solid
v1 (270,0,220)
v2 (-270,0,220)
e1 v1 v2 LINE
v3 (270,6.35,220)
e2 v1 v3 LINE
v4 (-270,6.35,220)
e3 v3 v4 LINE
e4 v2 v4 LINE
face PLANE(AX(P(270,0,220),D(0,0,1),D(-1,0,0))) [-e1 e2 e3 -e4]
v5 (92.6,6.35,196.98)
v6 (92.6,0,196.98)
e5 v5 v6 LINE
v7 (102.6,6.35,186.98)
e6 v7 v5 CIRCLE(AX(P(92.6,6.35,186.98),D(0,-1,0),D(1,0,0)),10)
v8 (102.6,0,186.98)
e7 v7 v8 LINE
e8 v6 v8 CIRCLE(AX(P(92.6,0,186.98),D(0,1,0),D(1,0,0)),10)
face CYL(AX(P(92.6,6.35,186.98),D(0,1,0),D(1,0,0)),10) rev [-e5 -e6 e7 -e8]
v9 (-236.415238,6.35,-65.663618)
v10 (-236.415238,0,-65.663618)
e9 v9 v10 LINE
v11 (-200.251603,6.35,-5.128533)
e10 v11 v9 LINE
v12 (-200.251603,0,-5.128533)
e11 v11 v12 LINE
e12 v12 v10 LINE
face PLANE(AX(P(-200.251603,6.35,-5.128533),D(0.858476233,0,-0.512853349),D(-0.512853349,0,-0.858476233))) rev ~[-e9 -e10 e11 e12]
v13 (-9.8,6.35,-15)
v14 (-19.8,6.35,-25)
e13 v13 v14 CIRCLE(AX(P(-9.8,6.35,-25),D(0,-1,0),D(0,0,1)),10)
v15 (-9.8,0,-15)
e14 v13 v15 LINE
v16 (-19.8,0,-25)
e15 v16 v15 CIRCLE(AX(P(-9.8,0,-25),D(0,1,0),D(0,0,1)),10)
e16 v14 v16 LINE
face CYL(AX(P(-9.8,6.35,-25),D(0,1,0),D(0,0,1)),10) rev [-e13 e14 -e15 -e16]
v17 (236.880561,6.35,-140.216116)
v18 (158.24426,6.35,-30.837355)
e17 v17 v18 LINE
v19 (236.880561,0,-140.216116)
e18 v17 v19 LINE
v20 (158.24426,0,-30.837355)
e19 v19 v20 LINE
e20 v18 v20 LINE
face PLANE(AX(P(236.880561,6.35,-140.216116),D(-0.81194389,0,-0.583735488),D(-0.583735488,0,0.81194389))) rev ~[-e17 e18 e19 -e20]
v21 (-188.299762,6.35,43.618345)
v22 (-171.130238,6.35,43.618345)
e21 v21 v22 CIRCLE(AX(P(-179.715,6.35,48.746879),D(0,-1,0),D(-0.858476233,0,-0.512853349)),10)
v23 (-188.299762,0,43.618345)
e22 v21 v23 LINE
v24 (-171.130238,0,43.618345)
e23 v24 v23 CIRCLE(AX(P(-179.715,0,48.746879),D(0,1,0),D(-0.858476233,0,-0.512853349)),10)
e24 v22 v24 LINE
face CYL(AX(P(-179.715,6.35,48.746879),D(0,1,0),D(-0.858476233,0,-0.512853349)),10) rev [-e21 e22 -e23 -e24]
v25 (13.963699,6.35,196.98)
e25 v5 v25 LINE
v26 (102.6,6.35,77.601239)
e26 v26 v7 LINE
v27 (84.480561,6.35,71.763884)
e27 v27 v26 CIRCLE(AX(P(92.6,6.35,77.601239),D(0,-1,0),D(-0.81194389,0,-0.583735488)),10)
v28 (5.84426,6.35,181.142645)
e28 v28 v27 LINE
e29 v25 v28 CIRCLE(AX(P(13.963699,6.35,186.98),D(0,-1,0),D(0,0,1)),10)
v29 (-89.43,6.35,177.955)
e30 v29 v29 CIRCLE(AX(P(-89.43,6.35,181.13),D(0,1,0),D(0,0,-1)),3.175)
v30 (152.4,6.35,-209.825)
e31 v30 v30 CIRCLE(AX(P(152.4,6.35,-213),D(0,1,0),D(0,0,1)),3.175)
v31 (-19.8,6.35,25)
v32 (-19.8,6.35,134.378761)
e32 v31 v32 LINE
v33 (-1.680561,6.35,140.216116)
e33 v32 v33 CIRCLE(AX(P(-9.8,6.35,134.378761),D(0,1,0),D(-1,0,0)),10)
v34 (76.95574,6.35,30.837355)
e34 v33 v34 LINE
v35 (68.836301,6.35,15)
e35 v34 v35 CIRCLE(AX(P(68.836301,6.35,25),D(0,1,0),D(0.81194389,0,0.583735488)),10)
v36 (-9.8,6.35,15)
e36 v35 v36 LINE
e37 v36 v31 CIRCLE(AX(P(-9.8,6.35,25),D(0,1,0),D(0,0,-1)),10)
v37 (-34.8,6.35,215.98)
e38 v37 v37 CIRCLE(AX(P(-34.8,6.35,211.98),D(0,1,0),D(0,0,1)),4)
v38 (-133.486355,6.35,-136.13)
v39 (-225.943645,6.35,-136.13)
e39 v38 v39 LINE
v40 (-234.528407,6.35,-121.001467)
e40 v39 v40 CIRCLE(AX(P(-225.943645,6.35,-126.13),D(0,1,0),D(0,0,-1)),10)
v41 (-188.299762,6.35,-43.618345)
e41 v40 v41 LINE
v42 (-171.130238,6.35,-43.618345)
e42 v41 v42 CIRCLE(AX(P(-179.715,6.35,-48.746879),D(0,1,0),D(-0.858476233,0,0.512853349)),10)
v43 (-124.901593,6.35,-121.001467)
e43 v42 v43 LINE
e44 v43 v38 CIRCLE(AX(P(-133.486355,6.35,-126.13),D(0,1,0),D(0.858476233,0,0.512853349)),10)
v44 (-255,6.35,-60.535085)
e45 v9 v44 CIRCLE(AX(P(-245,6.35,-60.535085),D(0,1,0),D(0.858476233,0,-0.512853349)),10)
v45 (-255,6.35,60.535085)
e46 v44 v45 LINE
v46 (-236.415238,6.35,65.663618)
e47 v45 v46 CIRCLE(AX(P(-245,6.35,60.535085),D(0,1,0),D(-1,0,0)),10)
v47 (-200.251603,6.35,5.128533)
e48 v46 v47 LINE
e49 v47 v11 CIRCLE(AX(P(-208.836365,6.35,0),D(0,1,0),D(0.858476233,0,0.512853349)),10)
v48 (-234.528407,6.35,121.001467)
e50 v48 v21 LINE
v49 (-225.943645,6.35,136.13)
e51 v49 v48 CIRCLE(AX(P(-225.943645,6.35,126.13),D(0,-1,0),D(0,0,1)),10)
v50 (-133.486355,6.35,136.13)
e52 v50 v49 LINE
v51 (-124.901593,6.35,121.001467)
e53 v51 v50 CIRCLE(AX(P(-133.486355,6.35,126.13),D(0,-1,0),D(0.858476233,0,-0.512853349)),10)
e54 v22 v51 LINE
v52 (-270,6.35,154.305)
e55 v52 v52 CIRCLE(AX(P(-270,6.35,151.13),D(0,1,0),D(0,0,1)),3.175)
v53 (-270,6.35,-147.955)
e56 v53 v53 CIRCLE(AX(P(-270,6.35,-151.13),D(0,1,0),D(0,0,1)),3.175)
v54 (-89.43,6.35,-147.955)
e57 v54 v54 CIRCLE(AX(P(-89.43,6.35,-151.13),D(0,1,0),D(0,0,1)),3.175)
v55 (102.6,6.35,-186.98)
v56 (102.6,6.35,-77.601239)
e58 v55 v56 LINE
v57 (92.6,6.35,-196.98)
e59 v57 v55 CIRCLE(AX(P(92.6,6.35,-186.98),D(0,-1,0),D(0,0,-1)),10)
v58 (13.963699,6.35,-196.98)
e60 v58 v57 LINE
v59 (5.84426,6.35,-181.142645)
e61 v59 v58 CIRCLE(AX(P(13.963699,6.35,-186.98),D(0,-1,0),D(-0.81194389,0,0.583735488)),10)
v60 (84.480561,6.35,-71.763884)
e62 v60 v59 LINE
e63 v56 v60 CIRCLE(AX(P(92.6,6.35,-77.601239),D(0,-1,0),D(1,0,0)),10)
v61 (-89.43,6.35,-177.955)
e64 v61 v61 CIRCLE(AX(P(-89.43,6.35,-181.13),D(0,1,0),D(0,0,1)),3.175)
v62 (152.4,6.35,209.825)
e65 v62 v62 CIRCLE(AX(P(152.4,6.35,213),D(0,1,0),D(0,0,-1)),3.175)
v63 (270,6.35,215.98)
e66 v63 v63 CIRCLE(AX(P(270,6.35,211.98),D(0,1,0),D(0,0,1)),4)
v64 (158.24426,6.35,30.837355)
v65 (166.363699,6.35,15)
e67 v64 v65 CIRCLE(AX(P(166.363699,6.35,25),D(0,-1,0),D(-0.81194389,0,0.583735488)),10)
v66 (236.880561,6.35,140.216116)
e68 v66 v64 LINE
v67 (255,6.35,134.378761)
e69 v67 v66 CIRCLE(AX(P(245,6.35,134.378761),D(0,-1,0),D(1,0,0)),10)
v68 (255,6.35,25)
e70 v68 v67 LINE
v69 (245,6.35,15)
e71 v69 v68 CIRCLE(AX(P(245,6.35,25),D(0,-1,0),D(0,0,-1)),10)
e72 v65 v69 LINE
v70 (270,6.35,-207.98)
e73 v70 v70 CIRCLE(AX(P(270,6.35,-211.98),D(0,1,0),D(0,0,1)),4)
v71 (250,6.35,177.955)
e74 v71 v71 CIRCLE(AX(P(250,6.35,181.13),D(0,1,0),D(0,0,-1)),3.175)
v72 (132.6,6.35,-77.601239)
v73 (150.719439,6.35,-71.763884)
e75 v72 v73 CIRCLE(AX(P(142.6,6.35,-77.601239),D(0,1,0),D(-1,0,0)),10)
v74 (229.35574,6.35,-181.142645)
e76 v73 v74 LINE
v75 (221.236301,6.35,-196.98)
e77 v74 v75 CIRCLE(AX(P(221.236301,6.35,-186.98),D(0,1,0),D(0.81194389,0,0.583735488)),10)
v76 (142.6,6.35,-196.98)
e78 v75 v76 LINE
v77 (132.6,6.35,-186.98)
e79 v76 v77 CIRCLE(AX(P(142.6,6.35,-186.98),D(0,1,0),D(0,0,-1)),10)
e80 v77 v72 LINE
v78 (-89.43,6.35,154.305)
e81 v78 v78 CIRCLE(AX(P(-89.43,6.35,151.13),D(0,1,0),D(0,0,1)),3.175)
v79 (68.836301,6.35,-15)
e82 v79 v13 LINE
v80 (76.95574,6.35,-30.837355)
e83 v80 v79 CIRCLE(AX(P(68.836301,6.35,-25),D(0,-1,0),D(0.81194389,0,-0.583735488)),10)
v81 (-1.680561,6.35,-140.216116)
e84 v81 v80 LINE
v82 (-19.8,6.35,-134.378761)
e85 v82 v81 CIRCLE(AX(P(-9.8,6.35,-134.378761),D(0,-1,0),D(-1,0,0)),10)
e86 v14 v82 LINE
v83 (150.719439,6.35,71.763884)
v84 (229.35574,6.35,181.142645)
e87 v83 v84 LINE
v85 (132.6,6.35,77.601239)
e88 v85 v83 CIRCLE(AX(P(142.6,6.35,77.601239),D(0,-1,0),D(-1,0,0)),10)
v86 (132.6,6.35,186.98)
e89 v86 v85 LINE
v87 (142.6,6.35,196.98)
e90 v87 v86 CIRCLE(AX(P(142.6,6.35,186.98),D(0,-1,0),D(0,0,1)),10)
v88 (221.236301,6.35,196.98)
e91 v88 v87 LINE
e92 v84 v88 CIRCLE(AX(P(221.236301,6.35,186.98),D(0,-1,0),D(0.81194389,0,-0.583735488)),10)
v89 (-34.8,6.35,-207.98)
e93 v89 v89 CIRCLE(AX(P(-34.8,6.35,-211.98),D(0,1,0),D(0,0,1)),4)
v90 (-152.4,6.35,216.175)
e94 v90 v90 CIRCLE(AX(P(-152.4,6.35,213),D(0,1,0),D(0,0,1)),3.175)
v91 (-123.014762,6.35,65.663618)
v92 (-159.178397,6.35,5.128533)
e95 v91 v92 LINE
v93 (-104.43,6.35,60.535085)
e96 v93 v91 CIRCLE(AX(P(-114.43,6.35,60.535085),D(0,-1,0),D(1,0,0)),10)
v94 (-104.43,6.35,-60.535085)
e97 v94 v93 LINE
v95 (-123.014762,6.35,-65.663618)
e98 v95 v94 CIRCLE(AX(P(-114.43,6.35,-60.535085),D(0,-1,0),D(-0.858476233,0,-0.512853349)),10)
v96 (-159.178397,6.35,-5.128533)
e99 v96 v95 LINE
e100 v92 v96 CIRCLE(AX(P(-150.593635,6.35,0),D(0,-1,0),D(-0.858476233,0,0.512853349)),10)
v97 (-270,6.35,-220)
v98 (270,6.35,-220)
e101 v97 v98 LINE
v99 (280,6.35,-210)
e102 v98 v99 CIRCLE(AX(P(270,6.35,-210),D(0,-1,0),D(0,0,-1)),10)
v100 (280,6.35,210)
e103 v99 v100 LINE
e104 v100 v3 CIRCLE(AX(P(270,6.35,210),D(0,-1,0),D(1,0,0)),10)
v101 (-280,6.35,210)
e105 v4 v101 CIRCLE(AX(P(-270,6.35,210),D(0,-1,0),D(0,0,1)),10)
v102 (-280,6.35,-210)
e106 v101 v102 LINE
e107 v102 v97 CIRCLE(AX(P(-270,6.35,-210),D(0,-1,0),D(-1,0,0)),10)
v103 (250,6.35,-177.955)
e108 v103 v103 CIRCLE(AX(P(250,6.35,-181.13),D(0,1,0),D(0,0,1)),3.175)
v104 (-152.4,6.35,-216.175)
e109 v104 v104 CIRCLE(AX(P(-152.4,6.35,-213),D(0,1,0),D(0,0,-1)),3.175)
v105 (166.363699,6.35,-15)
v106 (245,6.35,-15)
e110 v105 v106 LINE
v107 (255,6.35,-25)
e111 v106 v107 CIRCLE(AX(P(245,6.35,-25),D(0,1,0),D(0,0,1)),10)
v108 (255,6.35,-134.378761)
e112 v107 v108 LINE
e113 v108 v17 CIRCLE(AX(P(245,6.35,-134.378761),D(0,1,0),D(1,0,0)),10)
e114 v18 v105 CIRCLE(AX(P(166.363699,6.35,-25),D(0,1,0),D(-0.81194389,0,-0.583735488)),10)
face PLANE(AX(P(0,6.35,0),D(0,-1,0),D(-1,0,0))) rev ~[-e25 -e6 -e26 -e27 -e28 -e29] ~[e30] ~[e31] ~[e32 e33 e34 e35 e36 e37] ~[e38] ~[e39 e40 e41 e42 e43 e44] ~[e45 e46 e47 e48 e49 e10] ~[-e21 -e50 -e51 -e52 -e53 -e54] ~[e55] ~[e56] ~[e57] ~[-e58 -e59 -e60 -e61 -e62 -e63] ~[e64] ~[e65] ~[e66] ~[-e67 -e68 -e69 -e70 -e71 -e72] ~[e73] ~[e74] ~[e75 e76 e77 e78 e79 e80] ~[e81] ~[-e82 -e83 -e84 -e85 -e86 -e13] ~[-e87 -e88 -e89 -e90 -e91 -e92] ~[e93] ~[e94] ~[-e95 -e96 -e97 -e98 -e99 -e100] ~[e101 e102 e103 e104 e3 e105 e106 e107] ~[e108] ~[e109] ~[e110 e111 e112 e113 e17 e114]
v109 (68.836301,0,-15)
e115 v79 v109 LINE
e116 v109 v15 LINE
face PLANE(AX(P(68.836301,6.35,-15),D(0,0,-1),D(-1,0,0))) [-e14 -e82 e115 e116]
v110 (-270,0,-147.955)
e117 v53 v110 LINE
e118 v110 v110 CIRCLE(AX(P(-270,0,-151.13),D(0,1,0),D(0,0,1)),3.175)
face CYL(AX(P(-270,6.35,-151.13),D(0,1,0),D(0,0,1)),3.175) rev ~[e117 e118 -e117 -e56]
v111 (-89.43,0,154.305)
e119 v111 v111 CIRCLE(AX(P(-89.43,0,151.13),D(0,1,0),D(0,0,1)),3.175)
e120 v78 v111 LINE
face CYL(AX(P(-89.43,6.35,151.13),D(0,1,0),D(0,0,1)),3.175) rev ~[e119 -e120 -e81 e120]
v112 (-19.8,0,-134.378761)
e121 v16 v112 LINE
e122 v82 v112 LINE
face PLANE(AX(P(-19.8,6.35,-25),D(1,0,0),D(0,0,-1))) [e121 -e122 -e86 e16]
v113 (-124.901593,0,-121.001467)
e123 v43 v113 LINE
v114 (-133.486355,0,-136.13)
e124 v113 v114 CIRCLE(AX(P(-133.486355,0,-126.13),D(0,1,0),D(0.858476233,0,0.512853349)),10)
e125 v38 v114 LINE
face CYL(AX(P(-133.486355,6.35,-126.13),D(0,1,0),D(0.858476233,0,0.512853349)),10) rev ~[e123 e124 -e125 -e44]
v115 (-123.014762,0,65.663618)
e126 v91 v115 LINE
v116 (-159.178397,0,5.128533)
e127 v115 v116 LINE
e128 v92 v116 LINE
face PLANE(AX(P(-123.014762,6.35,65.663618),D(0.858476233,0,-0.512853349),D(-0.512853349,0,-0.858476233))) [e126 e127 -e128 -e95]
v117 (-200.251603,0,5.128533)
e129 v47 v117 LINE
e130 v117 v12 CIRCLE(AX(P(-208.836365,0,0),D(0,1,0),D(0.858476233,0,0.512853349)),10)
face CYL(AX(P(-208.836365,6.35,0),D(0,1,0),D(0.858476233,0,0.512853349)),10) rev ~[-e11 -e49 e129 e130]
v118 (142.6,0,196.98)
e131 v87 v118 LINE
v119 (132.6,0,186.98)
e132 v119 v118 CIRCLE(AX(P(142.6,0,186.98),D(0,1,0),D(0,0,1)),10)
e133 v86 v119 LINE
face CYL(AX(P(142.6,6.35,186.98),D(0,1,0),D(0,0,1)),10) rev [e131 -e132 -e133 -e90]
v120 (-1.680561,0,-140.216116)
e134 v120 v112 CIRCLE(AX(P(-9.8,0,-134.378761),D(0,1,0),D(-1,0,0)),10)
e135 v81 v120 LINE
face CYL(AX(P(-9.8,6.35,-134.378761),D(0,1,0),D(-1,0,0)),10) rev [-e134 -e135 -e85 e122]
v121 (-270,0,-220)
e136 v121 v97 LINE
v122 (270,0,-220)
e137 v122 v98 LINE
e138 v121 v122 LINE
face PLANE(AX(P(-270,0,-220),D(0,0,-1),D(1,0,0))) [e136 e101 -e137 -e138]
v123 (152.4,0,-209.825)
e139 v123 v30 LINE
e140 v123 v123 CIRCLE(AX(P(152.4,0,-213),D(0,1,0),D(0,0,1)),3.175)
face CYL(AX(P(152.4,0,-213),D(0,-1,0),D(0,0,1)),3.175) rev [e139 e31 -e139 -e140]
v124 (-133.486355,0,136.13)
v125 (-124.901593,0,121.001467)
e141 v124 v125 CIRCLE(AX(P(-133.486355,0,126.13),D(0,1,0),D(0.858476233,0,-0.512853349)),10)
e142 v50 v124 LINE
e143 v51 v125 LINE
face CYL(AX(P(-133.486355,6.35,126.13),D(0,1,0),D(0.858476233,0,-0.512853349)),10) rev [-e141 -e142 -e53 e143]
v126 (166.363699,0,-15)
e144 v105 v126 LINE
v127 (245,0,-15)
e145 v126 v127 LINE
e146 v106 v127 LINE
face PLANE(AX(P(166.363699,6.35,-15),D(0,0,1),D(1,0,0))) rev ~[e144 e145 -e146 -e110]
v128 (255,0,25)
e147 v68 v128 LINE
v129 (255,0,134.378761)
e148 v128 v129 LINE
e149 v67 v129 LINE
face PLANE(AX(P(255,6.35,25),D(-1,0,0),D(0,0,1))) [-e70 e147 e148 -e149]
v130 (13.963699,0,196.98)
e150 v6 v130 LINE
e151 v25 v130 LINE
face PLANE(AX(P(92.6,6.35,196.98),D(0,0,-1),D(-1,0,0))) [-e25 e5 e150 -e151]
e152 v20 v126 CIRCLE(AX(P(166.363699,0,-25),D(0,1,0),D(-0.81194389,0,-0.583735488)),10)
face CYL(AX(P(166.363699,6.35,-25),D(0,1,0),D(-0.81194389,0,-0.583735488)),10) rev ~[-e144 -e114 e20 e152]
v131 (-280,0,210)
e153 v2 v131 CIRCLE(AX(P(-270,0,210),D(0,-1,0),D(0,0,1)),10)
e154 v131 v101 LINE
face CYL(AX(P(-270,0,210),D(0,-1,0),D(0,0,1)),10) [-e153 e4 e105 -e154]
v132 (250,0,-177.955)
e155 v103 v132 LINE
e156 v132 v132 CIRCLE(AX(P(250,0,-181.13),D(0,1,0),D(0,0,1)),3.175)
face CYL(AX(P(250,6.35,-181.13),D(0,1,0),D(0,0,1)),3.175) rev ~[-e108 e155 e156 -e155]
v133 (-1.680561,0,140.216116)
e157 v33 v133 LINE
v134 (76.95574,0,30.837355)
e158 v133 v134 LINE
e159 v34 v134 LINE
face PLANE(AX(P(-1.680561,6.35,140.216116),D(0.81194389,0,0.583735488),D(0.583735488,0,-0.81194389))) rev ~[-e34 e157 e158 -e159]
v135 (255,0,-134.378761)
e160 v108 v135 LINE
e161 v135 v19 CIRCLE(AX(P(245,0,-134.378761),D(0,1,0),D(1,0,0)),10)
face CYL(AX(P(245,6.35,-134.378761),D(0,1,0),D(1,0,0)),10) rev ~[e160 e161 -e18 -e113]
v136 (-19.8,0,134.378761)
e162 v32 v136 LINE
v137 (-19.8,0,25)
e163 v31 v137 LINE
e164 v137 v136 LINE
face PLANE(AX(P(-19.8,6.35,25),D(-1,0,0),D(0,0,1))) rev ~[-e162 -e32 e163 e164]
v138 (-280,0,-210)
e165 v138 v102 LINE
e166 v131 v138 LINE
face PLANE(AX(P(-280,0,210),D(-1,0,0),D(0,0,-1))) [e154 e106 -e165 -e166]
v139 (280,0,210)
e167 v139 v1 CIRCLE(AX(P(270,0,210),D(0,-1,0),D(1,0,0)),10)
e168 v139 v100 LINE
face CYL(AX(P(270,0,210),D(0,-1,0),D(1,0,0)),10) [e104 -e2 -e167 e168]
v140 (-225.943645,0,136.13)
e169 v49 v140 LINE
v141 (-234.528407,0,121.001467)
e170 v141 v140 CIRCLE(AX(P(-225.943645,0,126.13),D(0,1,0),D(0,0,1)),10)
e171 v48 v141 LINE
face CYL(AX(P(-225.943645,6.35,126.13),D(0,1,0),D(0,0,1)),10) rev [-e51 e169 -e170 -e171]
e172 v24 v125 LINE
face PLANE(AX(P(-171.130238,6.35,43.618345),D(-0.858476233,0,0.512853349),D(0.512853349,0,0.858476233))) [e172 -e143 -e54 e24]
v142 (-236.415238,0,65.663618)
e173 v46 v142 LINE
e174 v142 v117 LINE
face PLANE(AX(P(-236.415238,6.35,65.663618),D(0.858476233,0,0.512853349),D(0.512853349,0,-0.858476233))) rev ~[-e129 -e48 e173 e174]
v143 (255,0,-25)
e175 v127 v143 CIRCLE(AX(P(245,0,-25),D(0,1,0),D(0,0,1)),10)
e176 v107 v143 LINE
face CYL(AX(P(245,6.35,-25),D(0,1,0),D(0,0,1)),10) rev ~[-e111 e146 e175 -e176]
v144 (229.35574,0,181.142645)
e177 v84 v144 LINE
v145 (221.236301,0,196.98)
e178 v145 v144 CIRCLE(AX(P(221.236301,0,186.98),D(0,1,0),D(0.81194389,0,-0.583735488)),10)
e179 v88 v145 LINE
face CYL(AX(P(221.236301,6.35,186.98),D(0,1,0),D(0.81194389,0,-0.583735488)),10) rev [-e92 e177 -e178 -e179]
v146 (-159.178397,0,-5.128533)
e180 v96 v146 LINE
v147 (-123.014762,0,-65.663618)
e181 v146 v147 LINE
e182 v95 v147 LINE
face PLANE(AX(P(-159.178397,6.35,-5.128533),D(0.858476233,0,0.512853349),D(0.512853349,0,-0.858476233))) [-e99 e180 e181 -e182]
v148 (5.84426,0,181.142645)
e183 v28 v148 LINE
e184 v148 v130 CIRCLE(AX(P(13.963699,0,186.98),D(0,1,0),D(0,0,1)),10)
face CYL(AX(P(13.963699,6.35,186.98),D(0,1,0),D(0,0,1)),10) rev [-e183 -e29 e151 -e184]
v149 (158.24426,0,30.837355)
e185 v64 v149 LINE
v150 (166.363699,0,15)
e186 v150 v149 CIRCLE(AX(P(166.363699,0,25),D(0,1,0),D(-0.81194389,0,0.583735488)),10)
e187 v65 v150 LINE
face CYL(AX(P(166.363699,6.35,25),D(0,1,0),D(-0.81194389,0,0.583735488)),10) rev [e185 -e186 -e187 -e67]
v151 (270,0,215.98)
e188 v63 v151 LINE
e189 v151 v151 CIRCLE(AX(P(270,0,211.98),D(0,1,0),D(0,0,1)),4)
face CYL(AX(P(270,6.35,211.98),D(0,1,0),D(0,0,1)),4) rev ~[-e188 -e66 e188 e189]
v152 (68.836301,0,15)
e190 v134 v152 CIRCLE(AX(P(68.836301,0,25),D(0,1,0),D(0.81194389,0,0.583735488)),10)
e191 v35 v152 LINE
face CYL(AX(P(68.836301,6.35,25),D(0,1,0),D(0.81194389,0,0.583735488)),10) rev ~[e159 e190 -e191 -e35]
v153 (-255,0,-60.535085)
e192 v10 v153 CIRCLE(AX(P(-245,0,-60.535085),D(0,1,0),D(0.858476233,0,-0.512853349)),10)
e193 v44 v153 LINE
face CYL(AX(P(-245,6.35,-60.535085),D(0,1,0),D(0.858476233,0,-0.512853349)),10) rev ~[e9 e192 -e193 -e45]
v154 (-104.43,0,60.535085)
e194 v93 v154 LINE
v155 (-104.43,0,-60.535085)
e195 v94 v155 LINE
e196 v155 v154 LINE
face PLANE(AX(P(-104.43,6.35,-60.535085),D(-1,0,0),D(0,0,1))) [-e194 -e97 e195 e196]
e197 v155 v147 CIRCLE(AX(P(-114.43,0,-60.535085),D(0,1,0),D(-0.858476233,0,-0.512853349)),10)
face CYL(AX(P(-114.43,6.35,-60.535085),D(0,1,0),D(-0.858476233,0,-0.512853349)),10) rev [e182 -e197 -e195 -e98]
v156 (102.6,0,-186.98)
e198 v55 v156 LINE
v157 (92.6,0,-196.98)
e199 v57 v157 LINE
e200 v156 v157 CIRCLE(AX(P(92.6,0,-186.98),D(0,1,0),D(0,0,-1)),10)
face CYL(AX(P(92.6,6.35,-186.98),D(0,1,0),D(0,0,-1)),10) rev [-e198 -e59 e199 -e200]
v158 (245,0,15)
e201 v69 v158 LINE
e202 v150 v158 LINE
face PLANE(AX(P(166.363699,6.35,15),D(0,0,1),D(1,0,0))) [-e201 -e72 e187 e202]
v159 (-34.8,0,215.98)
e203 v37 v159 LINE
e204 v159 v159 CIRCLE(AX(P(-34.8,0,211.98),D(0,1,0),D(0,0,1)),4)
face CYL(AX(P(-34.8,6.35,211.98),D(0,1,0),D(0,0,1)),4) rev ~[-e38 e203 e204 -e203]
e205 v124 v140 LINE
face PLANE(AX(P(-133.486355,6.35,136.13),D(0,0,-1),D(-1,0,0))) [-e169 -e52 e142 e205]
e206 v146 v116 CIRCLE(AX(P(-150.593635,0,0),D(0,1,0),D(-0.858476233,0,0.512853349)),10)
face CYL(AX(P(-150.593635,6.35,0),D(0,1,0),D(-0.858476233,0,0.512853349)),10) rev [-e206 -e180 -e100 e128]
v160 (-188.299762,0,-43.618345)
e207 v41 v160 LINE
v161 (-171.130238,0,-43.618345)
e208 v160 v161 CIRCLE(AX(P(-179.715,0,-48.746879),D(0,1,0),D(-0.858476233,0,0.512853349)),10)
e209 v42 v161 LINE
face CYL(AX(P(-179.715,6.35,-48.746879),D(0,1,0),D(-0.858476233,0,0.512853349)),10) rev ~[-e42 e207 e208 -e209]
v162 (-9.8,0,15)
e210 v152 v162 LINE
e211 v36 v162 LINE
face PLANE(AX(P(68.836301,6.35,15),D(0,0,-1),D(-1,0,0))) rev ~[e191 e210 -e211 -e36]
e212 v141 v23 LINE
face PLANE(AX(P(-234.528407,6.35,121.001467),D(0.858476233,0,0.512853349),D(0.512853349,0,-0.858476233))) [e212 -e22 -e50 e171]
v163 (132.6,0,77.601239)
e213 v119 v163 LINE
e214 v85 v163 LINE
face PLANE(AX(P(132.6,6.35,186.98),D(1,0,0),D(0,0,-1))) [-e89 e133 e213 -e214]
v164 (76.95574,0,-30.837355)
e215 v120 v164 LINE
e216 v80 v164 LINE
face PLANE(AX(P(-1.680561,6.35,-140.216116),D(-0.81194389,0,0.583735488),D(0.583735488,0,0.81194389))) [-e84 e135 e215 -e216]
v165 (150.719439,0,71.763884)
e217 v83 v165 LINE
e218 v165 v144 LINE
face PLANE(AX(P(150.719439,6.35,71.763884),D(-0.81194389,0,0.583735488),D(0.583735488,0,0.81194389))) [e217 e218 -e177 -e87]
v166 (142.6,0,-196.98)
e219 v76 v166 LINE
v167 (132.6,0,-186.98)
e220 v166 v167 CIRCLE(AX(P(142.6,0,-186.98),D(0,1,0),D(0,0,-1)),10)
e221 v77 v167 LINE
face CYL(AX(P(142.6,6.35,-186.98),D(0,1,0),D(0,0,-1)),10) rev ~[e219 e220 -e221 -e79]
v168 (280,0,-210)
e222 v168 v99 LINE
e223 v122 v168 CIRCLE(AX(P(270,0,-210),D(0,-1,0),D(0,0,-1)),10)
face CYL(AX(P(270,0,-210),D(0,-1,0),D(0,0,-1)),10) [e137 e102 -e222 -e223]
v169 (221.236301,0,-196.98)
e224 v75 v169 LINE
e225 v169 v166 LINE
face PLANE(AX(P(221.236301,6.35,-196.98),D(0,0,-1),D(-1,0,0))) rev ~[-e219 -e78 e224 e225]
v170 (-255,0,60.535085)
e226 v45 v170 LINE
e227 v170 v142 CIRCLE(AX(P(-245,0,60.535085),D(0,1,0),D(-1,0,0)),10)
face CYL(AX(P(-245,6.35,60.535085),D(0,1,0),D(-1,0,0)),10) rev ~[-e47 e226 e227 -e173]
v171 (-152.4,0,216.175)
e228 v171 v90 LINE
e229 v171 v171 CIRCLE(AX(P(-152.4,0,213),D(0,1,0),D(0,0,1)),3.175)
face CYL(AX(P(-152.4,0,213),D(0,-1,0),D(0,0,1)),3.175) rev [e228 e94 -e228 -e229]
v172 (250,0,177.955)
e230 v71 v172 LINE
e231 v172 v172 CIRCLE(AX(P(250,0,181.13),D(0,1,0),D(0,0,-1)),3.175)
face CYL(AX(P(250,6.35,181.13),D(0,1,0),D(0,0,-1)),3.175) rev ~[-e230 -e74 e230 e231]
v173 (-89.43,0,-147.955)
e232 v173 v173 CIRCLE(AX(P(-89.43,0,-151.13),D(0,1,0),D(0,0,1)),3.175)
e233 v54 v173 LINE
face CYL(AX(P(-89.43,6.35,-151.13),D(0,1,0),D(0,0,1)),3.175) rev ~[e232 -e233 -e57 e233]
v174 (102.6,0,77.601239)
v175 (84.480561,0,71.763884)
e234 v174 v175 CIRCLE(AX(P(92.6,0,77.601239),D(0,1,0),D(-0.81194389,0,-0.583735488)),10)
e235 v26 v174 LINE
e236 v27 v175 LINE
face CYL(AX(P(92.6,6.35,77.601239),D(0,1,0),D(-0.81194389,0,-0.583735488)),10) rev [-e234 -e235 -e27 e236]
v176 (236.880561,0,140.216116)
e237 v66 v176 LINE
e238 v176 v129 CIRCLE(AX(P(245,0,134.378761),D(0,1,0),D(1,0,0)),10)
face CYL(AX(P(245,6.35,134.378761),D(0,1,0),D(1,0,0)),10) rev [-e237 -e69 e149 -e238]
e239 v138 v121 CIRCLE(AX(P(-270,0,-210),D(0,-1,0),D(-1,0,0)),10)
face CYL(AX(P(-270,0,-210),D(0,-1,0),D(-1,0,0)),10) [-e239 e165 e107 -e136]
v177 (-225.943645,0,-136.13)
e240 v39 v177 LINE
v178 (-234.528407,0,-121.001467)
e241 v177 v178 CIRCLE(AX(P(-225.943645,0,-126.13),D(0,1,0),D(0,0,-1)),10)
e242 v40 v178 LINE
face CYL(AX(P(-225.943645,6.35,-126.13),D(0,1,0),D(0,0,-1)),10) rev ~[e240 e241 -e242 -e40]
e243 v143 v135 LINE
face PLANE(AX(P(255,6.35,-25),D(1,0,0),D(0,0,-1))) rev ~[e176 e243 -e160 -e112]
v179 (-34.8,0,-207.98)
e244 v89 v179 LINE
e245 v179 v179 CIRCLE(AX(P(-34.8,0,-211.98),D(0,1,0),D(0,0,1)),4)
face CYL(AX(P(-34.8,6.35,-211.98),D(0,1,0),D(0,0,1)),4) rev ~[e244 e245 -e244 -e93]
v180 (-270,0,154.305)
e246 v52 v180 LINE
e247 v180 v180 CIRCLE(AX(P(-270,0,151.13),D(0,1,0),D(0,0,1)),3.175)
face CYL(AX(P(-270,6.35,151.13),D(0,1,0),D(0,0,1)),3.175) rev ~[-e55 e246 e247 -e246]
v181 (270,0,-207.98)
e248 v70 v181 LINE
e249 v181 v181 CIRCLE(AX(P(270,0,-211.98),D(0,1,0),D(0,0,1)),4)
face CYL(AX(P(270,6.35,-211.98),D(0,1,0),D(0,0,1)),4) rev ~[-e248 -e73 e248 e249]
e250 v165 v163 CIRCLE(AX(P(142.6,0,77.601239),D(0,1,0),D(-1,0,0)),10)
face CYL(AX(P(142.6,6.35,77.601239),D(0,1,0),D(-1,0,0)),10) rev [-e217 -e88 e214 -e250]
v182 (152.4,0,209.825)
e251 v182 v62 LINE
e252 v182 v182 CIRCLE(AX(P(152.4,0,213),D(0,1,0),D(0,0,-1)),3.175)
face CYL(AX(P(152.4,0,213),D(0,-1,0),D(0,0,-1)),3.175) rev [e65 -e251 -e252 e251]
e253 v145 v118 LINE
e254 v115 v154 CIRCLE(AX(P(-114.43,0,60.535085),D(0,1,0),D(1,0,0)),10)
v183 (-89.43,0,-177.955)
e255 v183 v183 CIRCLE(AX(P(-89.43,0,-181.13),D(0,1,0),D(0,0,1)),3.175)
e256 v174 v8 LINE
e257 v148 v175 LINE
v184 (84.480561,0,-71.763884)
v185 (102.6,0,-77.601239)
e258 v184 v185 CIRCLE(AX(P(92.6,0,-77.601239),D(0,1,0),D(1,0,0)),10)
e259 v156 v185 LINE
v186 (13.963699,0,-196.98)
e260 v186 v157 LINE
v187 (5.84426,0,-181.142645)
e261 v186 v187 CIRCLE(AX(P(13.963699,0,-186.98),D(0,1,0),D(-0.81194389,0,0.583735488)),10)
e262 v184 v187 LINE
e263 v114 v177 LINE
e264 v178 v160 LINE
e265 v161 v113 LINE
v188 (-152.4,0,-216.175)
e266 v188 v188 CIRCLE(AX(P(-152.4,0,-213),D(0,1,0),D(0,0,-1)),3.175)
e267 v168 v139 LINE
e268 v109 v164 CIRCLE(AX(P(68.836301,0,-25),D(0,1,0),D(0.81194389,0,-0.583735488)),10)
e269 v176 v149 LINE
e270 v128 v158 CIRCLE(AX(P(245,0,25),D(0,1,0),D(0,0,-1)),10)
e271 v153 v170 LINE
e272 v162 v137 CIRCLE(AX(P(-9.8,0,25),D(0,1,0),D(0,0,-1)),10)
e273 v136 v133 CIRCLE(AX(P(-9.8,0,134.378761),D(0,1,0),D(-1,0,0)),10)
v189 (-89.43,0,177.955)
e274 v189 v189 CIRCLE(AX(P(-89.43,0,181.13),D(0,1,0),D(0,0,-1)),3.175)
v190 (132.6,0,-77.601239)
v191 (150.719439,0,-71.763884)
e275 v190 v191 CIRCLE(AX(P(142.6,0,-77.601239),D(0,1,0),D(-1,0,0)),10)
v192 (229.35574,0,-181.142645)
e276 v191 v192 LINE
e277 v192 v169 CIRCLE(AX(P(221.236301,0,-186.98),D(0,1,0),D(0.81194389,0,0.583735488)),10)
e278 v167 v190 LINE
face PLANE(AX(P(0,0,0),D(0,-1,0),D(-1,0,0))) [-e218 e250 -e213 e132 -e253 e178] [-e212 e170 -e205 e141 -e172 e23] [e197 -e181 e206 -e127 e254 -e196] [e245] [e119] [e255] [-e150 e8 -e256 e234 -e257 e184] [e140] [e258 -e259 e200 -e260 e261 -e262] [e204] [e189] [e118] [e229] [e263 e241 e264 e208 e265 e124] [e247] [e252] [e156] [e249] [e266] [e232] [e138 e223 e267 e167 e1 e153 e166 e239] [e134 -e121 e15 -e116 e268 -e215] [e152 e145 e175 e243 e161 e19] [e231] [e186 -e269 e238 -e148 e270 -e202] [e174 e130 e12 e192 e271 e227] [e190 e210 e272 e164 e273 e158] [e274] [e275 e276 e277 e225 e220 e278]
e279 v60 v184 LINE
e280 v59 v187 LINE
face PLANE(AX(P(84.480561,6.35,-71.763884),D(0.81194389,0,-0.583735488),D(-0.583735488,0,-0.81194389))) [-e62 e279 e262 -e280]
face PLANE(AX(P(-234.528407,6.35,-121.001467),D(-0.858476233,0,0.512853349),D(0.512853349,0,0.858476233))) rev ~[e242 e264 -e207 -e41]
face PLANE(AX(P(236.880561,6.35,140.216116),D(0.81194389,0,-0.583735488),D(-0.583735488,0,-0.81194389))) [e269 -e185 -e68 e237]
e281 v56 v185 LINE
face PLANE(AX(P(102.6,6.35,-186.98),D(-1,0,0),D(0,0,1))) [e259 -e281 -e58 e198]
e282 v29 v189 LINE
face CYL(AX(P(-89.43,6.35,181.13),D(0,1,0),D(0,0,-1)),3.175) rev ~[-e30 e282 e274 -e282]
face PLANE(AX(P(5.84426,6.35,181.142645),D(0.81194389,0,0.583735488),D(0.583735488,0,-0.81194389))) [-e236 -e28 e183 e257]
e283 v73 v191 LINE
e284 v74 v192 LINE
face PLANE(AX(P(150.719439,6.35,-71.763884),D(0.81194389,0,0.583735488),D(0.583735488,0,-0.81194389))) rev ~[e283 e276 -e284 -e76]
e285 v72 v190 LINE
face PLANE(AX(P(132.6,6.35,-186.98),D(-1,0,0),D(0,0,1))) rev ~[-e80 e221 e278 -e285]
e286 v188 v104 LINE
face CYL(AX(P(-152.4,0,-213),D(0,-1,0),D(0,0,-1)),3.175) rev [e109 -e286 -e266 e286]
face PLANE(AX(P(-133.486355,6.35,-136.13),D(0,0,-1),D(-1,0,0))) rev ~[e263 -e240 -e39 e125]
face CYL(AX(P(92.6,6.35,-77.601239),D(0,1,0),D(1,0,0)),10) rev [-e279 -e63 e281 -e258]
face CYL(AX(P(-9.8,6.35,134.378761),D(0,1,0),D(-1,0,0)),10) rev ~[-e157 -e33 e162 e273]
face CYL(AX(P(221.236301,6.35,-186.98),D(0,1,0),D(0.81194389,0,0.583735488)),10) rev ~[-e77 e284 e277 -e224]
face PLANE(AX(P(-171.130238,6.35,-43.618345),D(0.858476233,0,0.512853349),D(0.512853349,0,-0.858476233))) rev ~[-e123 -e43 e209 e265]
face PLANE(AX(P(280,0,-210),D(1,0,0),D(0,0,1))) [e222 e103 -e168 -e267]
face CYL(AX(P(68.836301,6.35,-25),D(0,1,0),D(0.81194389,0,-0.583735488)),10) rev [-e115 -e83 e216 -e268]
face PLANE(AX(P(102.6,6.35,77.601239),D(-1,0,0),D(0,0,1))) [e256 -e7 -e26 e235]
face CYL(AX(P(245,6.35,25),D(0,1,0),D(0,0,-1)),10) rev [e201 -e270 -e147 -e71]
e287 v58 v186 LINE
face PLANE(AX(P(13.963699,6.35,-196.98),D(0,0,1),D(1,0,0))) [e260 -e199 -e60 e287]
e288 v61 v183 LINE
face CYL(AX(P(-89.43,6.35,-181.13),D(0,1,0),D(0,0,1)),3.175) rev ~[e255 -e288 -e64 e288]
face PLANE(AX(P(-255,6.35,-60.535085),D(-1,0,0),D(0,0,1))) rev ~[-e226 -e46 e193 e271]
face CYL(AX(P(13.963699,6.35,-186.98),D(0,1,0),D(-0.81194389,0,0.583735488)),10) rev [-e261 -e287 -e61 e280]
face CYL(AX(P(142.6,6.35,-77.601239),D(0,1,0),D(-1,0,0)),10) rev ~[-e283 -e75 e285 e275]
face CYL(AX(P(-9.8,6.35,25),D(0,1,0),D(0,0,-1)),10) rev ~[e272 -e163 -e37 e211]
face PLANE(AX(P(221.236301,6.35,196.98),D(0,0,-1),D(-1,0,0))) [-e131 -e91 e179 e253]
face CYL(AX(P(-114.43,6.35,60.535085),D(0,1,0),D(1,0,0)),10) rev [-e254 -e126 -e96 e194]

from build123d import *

# Parameters (mm, degrees)
SKETCH1_R                  = 3.175
BODY_DEPTH                 = 6.35
ELECTRONICS_BOX_REACH      = 358.146
SKETCH3_R                  = 4
BATTERY_CHARGER_REACH      = 358.146
SKETCH5_R                  = 3.175
FILLETS_REACH              = 358.146
PLANT_MOUNTING_HOLES_REACH = 358.146
SKETCH7_R                  = 3.175


with BuildPart() as part:
    # Sketch1 → Body (new body)
    with BuildSketch(Plane(origin=(0, 0, 0), x_dir=(1, 0, 0), z_dir=(0, 1, 0))):
        with BuildLine():
            Line((-280, -210), (-280, 210))
            ThreePointArc((-280, 210), (-277.071067812, 217.071067812), (-270, 220))
            Line((-270, 220), (270, 220))
            ThreePointArc((270, 220), (277.071067812, 217.071067812), (280, 210))
            Line((280, 210), (280, -210))
            ThreePointArc((280, -210), (277.071067812, -217.071067812), (270, -220))
            Line((270, -220), (-270, -220))
            ThreePointArc((-270, -220), (-277.071067812, -217.071067812), (-280, -210))
        make_face()
        with Locations(Location((-152.4, -213, 0), (0, 0, 270))):
            Circle(SKETCH1_R, mode=Mode.SUBTRACT)
        with Locations(Location((-152.4, 213, 0), (0, 0, 90))):
            Circle(SKETCH1_R, mode=Mode.SUBTRACT)
        with Locations(Location((152.4, 213, 0), (0, 0, 270))):
            Circle(SKETCH1_R, mode=Mode.SUBTRACT)
        with Locations(Location((152.4, -213, 0), (0, 0, 90))):
            Circle(SKETCH1_R, mode=Mode.SUBTRACT)
    extrude(amount=BODY_DEPTH)

    # Sketch3 → Electronics Box (cut, up to next)
    with BuildSketch(Plane(origin=(0, 6.35, 0), x_dir=(1, 0, 0), z_dir=(0, 1, 0)), mode=Mode.PRIVATE) as electronics_box_sk1:
        with Locations(Location((-34.8, -211.98, 0), (0, 0, 270))):
            Circle(SKETCH3_R)
    electronics_box_tool1 = extrude(electronics_box_sk1.sketch, amount=-ELECTRONICS_BOX_REACH, mode=Mode.PRIVATE) & part.part
    # Sketch3 → Electronics Box (cut, up to next)
    with BuildSketch(Plane(origin=(0, 6.35, 0), x_dir=(1, 0, 0), z_dir=(0, 1, 0)), mode=Mode.PRIVATE) as electronics_box_sk2:
        with Locations(Location((270, -211.98, 0), (0, 0, 270))):
            Circle(SKETCH3_R)
    electronics_box_tool2 = extrude(electronics_box_sk2.sketch, amount=-ELECTRONICS_BOX_REACH, mode=Mode.PRIVATE) & part.part
    # Sketch3 → Electronics Box (cut, up to next)
    with BuildSketch(Plane(origin=(0, 6.35, 0), x_dir=(1, 0, 0), z_dir=(0, 1, 0)), mode=Mode.PRIVATE) as electronics_box_sk3:
        with Locations(Location((270, 211.98, 0), (0, 0, 270))):
            Circle(SKETCH3_R)
    electronics_box_tool3 = extrude(electronics_box_sk3.sketch, amount=-ELECTRONICS_BOX_REACH, mode=Mode.PRIVATE) & part.part
    # Sketch3 → Electronics Box (cut, up to next)
    with BuildSketch(Plane(origin=(0, 6.35, 0), x_dir=(1, 0, 0), z_dir=(0, 1, 0)), mode=Mode.PRIVATE) as electronics_box_sk4:
        with Locations(Location((-34.8, 211.98, 0), (0, 0, 270))):
            Circle(SKETCH3_R)
    electronics_box_tool4 = extrude(electronics_box_sk4.sketch, amount=-ELECTRONICS_BOX_REACH, mode=Mode.PRIVATE) & part.part
    add(electronics_box_tool1.solids().sort_by_distance((-34.8, 6.35, 211.98))[0], mode=Mode.SUBTRACT)
    add(electronics_box_tool2.solids().sort_by_distance((270, 6.35, 211.98))[0], mode=Mode.SUBTRACT)
    add(electronics_box_tool3.solids().sort_by_distance((270, 6.35, -211.98))[0], mode=Mode.SUBTRACT)
    add(electronics_box_tool4.solids().sort_by_distance((-34.8, 6.35, -211.98))[0], mode=Mode.SUBTRACT)

    # Sketch5 → Battery Charger (cut, up to next)
    with BuildSketch(Plane(origin=(0, 6.35, 0), x_dir=(1, 0, 0), z_dir=(0, 1, 0)), mode=Mode.PRIVATE) as battery_charger_sk1:
        with Locations(Location((-270, -151.13, 0), (0, 0, 270))):
            Circle(SKETCH5_R)
    battery_charger_tool1 = extrude(battery_charger_sk1.sketch, amount=-BATTERY_CHARGER_REACH, mode=Mode.PRIVATE) & part.part
    # Sketch5 → Battery Charger (cut, up to next)
    with BuildSketch(Plane(origin=(0, 6.35, 0), x_dir=(1, 0, 0), z_dir=(0, 1, 0)), mode=Mode.PRIVATE) as battery_charger_sk2:
        with Locations(Location((-270, 151.13, 0), (0, 0, 270))):
            Circle(SKETCH5_R)
    battery_charger_tool2 = extrude(battery_charger_sk2.sketch, amount=-BATTERY_CHARGER_REACH, mode=Mode.PRIVATE) & part.part
    # Sketch5 → Battery Charger (cut, up to next)
    with BuildSketch(Plane(origin=(0, 6.35, 0), x_dir=(1, 0, 0), z_dir=(0, 1, 0)), mode=Mode.PRIVATE) as battery_charger_sk3:
        with Locations(Location((-89.43, -151.13, 0), (0, 0, 270))):
            Circle(SKETCH5_R)
    battery_charger_tool3 = extrude(battery_charger_sk3.sketch, amount=-BATTERY_CHARGER_REACH, mode=Mode.PRIVATE) & part.part
    # Sketch5 → Battery Charger (cut, up to next)
    with BuildSketch(Plane(origin=(0, 6.35, 0), x_dir=(1, 0, 0), z_dir=(0, 1, 0)), mode=Mode.PRIVATE) as battery_charger_sk4:
        with Locations(Location((-89.43, 151.13, 0), (0, 0, 270))):
            Circle(SKETCH5_R)
    battery_charger_tool4 = extrude(battery_charger_sk4.sketch, amount=-BATTERY_CHARGER_REACH, mode=Mode.PRIVATE) & part.part
    add(battery_charger_tool1.solids().sort_by_distance((-270, 6.35, 151.13))[0], mode=Mode.SUBTRACT)
    add(battery_charger_tool2.solids().sort_by_distance((-270, 6.35, -151.13))[0], mode=Mode.SUBTRACT)
    add(battery_charger_tool3.solids().sort_by_distance((-89.43, 6.35, 151.13))[0], mode=Mode.SUBTRACT)
    add(battery_charger_tool4.solids().sort_by_distance((-89.43, 6.35, -151.13))[0], mode=Mode.SUBTRACT)

    # Sketch6 → Fillets (cut, up to next)
    with BuildSketch(Plane(origin=(0, 6.35, 0), x_dir=(1, 0, 0), z_dir=(0, 1, 0)), mode=Mode.PRIVATE) as fillets_sk1:
        with BuildLine():
            Line((-255, 60.535084541), (-255, -60.535084541))
            ThreePointArc((-255, -60.535084541), (-247.660110592, -70.17478431), (-236.415237673, -65.663618033))
            Line((-236.415237673, -65.663618033), (-200.251603002, -5.128533492))
            ThreePointArc((-200.251603002, -5.128533492), (-198.836365329, 0), (-200.251603002, 5.128533492))
            Line((-200.251603002, 5.128533492), (-236.415237673, 65.663618033))
            ThreePointArc((-236.415237673, 65.663618033), (-247.660110592, 70.17478431), (-255, 60.535084541))
        make_face()
    fillets_tool1 = extrude(fillets_sk1.sketch, amount=-FILLETS_REACH, mode=Mode.PRIVATE) & part.part
    # Sketch6 → Fillets (cut, up to next)
    with BuildSketch(Plane(origin=(0, 6.35, 0), x_dir=(1, 0, 0), z_dir=(0, 1, 0)), mode=Mode.PRIVATE) as fillets_sk2:
        with BuildLine():
            Line((-159.178396998, 5.128533492), (-123.014762327, 65.663618033))
            ThreePointArc((-123.014762327, 65.663618033), (-111.769889408, 70.17478431), (-104.43, 60.535084541))
            Line((-104.43, 60.535084541), (-104.43, -60.535084541))
            ThreePointArc((-104.43, -60.535084541), (-111.769889408, -70.17478431), (-123.014762327, -65.663618033))
            Line((-123.014762327, -65.663618033), (-159.178396998, -5.128533492))
            ThreePointArc((-159.178396998, -5.128533492), (-160.593634671, 0), (-159.178396998, 5.128533492))
        make_face()
    fillets_tool2 = extrude(fillets_sk2.sketch, amount=-FILLETS_REACH, mode=Mode.PRIVATE) & part.part
    # Sketch6 → Fillets (cut, up to next)
    with BuildSketch(Plane(origin=(0, 6.35, 0), x_dir=(1, 0, 0), z_dir=(0, 1, 0)), mode=Mode.PRIVATE) as fillets_sk3:
        with BuildLine():
            Line((-234.528407254, -121.001466508), (-188.299762327, -43.618345194))
            ThreePointArc((-188.299762327, -43.618345194), (-179.715, -38.746878687), (-171.130237673, -43.618345194))
            Line((-171.130237673, -43.618345194), (-124.901592746, -121.001466508))
            ThreePointArc((-124.901592746, -121.001466508), (-124.78907576, -131.065314837), (-133.486355073, -136.13))
            Line((-133.486355073, -136.13), (-225.943644927, -136.13))
            ThreePointArc((-225.943644927, -136.13), (-234.64092424, -131.065314837), (-234.528407254, -121.001466508))
        make_face()
    fillets_tool3 = extrude(fillets_sk3.sketch, amount=-FILLETS_REACH, mode=Mode.PRIVATE) & part.part
    # Sketch6 → Fillets (cut, up to next)
    with BuildSketch(Plane(origin=(0, 6.35, 0), x_dir=(1, 0, 0), z_dir=(0, 1, 0)), mode=Mode.PRIVATE) as fillets_sk4:
        with BuildLine():
            Line((-171.130237673, 43.618345194), (-124.901592746, 121.001466508))
            ThreePointArc((-124.901592746, 121.001466508), (-124.78907576, 131.065314837), (-133.486355073, 136.13))
            Line((-133.486355073, 136.13), (-225.943644927, 136.13))
            ThreePointArc((-225.943644927, 136.13), (-234.64092424, 131.065314837), (-234.528407254, 121.001466508))
            Line((-234.528407254, 121.001466508), (-188.299762327, 43.618345194))
            ThreePointArc((-188.299762327, 43.618345194), (-179.715, 38.746878687), (-171.130237673, 43.618345194))
        make_face()
    fillets_tool4 = extrude(fillets_sk4.sketch, amount=-FILLETS_REACH, mode=Mode.PRIVATE) & part.part
    # Sketch6 → Fillets (cut, up to next)
    with BuildSketch(Plane(origin=(0, 6.35, 0), x_dir=(1, 0, 0), z_dir=(0, 1, 0)), mode=Mode.PRIVATE) as fillets_sk5:
        with BuildLine():
            Line((-1.680561104, 140.21611569), (76.955740185, 30.837354881))
            ThreePointArc((76.955740185, 30.837354881), (77.734996384, 20.437848578), (68.836301289, 15))
            Line((68.836301289, 15), (-9.8, 15))
            ThreePointArc((-9.8, 15), (-16.871067812, 17.928932188), (-19.8, 25))
            Line((-19.8, 25), (-19.8, 134.378760808))
            ThreePointArc((-19.8, 134.378760808), (-12.866399439, 143.897016661), (-1.680561104, 140.21611569))
        make_face()
    fillets_tool5 = extrude(fillets_sk5.sketch, amount=-FILLETS_REACH, mode=Mode.PRIVATE) & part.part
    # Sketch6 → Fillets (cut, up to next)
    with BuildSketch(Plane(origin=(0, 6.35, 0), x_dir=(1, 0, 0), z_dir=(0, 1, 0)), mode=Mode.PRIVATE) as fillets_sk6:
        with BuildLine():
            Line((255, 25), (255, 134.378760808))
            ThreePointArc((255, 134.378760808), (248.066399439, 143.897016661), (236.880561104, 140.21611569))
            Line((236.880561104, 140.21611569), (158.244259815, 30.837354881))
            ThreePointArc((158.244259815, 30.837354881), (157.465003616, 20.437848578), (166.363698711, 15))
            Line((166.363698711, 15), (245, 15))
            ThreePointArc((245, 15), (252.071067812, 17.928932188), (255, 25))
        make_face()
    fillets_tool6 = extrude(fillets_sk6.sketch, amount=-FILLETS_REACH, mode=Mode.PRIVATE) & part.part
    # Sketch6 → Fillets (cut, up to next)
    with BuildSketch(Plane(origin=(0, 6.35, 0), x_dir=(1, 0, 0), z_dir=(0, 1, 0)), mode=Mode.PRIVATE) as fillets_sk7:
        with BuildLine():
            Line((84.480561104, 71.76388431), (5.844259815, 181.142645119))
            ThreePointArc((5.844259815, 181.142645119), (5.065003616, 191.542151422), (13.963698711, 196.98))
            Line((13.963698711, 196.98), (92.6, 196.98))
            ThreePointArc((92.6, 196.98), (99.671067812, 194.051067812), (102.6, 186.98))
            Line((102.6, 186.98), (102.6, 77.601239192))
            ThreePointArc((102.6, 77.601239192), (95.666399439, 68.082983339), (84.480561104, 71.76388431))
        make_face()
    fillets_tool7 = extrude(fillets_sk7.sketch, amount=-FILLETS_REACH, mode=Mode.PRIVATE) & part.part
    # Sketch6 → Fillets (cut, up to next)
    with BuildSketch(Plane(origin=(0, 6.35, 0), x_dir=(1, 0, 0), z_dir=(0, 1, 0)), mode=Mode.PRIVATE) as fillets_sk8:
        with BuildLine():
            Line((221.236301289, 196.98), (142.6, 196.98))
            ThreePointArc((142.6, 196.98), (135.528932188, 194.051067812), (132.6, 186.98))
            Line((132.6, 186.98), (132.6, 77.601239192))
            ThreePointArc((132.6, 77.601239192), (139.533600561, 68.082983339), (150.719438896, 71.76388431))
            Line((150.719438896, 71.76388431), (229.355740185, 181.142645119))
            ThreePointArc((229.355740185, 181.142645119), (230.134996384, 191.542151422), (221.236301289, 196.98))
        make_face()
    fillets_tool8 = extrude(fillets_sk8.sketch, amount=-FILLETS_REACH, mode=Mode.PRIVATE) & part.part
    # Sketch6 → Fillets (cut, up to next)
    with BuildSketch(Plane(origin=(0, 6.35, 0), x_dir=(1, 0, 0), z_dir=(0, 1, 0)), mode=Mode.PRIVATE) as fillets_sk9:
        with BuildLine():
            Line((102.6, -77.601239192), (102.6, -186.98))
            ThreePointArc((102.6, -186.98), (99.671067812, -194.051067812), (92.6, -196.98))
            Line((92.6, -196.98), (13.963698711, -196.98))
            ThreePointArc((13.963698711, -196.98), (5.065003616, -191.542151422), (5.844259815, -181.142645119))
            Line((5.844259815, -181.142645119), (84.480561104, -71.76388431))
            ThreePointArc((84.480561104, -71.76388431), (95.666399439, -68.082983339), (102.6, -77.601239192))
        make_face()
    fillets_tool9 = extrude(fillets_sk9.sketch, amount=-FILLETS_REACH, mode=Mode.PRIVATE) & part.part
    # Sketch6 → Fillets (cut, up to next)
    with BuildSketch(Plane(origin=(0, 6.35, 0), x_dir=(1, 0, 0), z_dir=(0, 1, 0)), mode=Mode.PRIVATE) as fillets_sk10:
        with BuildLine():
            Line((150.719438896, -71.76388431), (229.355740185, -181.142645119))
            ThreePointArc((229.355740185, -181.142645119), (230.134996384, -191.542151422), (221.236301289, -196.98))
            Line((221.236301289, -196.98), (142.6, -196.98))
            ThreePointArc((142.6, -196.98), (135.528932188, -194.051067812), (132.6, -186.98))
            Line((132.6, -186.98), (132.6, -77.601239192))
            ThreePointArc((132.6, -77.601239192), (139.533600561, -68.082983339), (150.719438896, -71.76388431))
        make_face()
    fillets_tool10 = extrude(fillets_sk10.sketch, amount=-FILLETS_REACH, mode=Mode.PRIVATE) & part.part
    # Sketch6 → Fillets (cut, up to next)
    with BuildSketch(Plane(origin=(0, 6.35, 0), x_dir=(1, 0, 0), z_dir=(0, 1, 0)), mode=Mode.PRIVATE) as fillets_sk11:
        with BuildLine():
            Line((236.880561104, -140.21611569), (158.244259815, -30.837354881))
            ThreePointArc((158.244259815, -30.837354881), (157.465003616, -20.437848578), (166.363698711, -15))
            Line((166.363698711, -15), (245, -15))
            ThreePointArc((245, -15), (252.071067812, -17.928932188), (255, -25))
            Line((255, -25), (255, -134.378760808))
            ThreePointArc((255, -134.378760808), (248.066399439, -143.897016661), (236.880561104, -140.21611569))
        make_face()
    fillets_tool11 = extrude(fillets_sk11.sketch, amount=-FILLETS_REACH, mode=Mode.PRIVATE) & part.part
    # Sketch6 → Fillets (cut, up to next)
    with BuildSketch(Plane(origin=(0, 6.35, 0), x_dir=(1, 0, 0), z_dir=(0, 1, 0)), mode=Mode.PRIVATE) as fillets_sk12:
        with BuildLine():
            Line((-19.8, -25), (-19.8, -134.378760808))
            ThreePointArc((-19.8, -134.378760808), (-12.866399439, -143.897016661), (-1.680561104, -140.21611569))
            Line((-1.680561104, -140.21611569), (76.955740185, -30.837354881))
            ThreePointArc((76.955740185, -30.837354881), (77.734996384, -20.437848578), (68.836301289, -15))
            Line((68.836301289, -15), (-9.8, -15))
            ThreePointArc((-9.8, -15), (-16.871067812, -17.928932188), (-19.8, -25))
        make_face()
    fillets_tool12 = extrude(fillets_sk12.sketch, amount=-FILLETS_REACH, mode=Mode.PRIVATE) & part.part
    add(fillets_tool1.solids().sort_by_distance((-234.493731, 6.35, 0))[0], mode=Mode.SUBTRACT)
    add(fillets_tool2.solids().sort_by_distance((-124.936269, 6.35, 0))[0], mode=Mode.SUBTRACT)
    add(fillets_tool3.solids().sort_by_distance((-179.715, 6.35, 100.443358))[0], mode=Mode.SUBTRACT)
    add(fillets_tool4.solids().sort_by_distance((-179.715, 6.35, -100.443358))[0], mode=Mode.SUBTRACT)
    add(fillets_tool5.solids().sort_by_distance((16.371701, 6.35, -63.773404))[0], mode=Mode.SUBTRACT)
    add(fillets_tool6.solids().sort_by_distance((218.828299, 6.35, -63.773404))[0], mode=Mode.SUBTRACT)
    add(fillets_tool7.solids().sort_by_distance((66.428299, 6.35, -148.206596))[0], mode=Mode.SUBTRACT)
    add(fillets_tool8.solids().sort_by_distance((168.771701, 6.35, -148.206596))[0], mode=Mode.SUBTRACT)
    add(fillets_tool9.solids().sort_by_distance((66.428299, 6.35, 148.206596))[0], mode=Mode.SUBTRACT)
    add(fillets_tool10.solids().sort_by_distance((168.771701, 6.35, 148.206596))[0], mode=Mode.SUBTRACT)
    add(fillets_tool11.solids().sort_by_distance((218.828299, 6.35, 63.773404))[0], mode=Mode.SUBTRACT)
    add(fillets_tool12.solids().sort_by_distance((16.371701, 6.35, 63.773404))[0], mode=Mode.SUBTRACT)

    # Sketch7 → Plant Mounting holes (cut, up to next)
    with BuildSketch(Plane(origin=(0, 6.35, 0), x_dir=(1, 0, 0), z_dir=(0, 1, 0)), mode=Mode.PRIVATE) as plant_mounting_holes_sk1:
        with Locations(Location((250, 181.13, 0), (0, 0, 270))):
            Circle(SKETCH7_R)
    plant_mounting_holes_tool1 = extrude(plant_mounting_holes_sk1.sketch, amount=-PLANT_MOUNTING_HOLES_REACH, mode=Mode.PRIVATE) & part.part
    # Sketch7 → Plant Mounting holes (cut, up to next)
    with BuildSketch(Plane(origin=(0, 6.35, 0), x_dir=(1, 0, 0), z_dir=(0, 1, 0)), mode=Mode.PRIVATE) as plant_mounting_holes_sk2:
        with Locations(Location((-89.43, 181.13, 0), (0, 0, 270))):
            Circle(SKETCH7_R)
    plant_mounting_holes_tool2 = extrude(plant_mounting_holes_sk2.sketch, amount=-PLANT_MOUNTING_HOLES_REACH, mode=Mode.PRIVATE) & part.part
    # Sketch7 → Plant Mounting holes (cut, up to next)
    with BuildSketch(Plane(origin=(0, 6.35, 0), x_dir=(1, 0, 0), z_dir=(0, 1, 0)), mode=Mode.PRIVATE) as plant_mounting_holes_sk3:
        with Locations(Location((-89.43, -181.13, 0), (0, 0, 90))):
            Circle(SKETCH7_R)
    plant_mounting_holes_tool3 = extrude(plant_mounting_holes_sk3.sketch, amount=-PLANT_MOUNTING_HOLES_REACH, mode=Mode.PRIVATE) & part.part
    # Sketch7 → Plant Mounting holes (cut, up to next)
    with BuildSketch(Plane(origin=(0, 6.35, 0), x_dir=(1, 0, 0), z_dir=(0, 1, 0)), mode=Mode.PRIVATE) as plant_mounting_holes_sk4:
        with Locations(Location((250, -181.13, 0), (0, 0, 90))):
            Circle(SKETCH7_R)
    plant_mounting_holes_tool4 = extrude(plant_mounting_holes_sk4.sketch, amount=-PLANT_MOUNTING_HOLES_REACH, mode=Mode.PRIVATE) & part.part
    add(plant_mounting_holes_tool1.solids().sort_by_distance((250, 6.35, -181.13))[0], mode=Mode.SUBTRACT)
    add(plant_mounting_holes_tool2.solids().sort_by_distance((-89.43, 6.35, -181.13))[0], mode=Mode.SUBTRACT)
    add(plant_mounting_holes_tool3.solids().sort_by_distance((-89.43, 6.35, 181.13))[0], mode=Mode.SUBTRACT)
    add(plant_mounting_holes_tool4.solids().sort_by_distance((250, 6.35, 181.13))[0], mode=Mode.SUBTRACT)


solid = part.part
